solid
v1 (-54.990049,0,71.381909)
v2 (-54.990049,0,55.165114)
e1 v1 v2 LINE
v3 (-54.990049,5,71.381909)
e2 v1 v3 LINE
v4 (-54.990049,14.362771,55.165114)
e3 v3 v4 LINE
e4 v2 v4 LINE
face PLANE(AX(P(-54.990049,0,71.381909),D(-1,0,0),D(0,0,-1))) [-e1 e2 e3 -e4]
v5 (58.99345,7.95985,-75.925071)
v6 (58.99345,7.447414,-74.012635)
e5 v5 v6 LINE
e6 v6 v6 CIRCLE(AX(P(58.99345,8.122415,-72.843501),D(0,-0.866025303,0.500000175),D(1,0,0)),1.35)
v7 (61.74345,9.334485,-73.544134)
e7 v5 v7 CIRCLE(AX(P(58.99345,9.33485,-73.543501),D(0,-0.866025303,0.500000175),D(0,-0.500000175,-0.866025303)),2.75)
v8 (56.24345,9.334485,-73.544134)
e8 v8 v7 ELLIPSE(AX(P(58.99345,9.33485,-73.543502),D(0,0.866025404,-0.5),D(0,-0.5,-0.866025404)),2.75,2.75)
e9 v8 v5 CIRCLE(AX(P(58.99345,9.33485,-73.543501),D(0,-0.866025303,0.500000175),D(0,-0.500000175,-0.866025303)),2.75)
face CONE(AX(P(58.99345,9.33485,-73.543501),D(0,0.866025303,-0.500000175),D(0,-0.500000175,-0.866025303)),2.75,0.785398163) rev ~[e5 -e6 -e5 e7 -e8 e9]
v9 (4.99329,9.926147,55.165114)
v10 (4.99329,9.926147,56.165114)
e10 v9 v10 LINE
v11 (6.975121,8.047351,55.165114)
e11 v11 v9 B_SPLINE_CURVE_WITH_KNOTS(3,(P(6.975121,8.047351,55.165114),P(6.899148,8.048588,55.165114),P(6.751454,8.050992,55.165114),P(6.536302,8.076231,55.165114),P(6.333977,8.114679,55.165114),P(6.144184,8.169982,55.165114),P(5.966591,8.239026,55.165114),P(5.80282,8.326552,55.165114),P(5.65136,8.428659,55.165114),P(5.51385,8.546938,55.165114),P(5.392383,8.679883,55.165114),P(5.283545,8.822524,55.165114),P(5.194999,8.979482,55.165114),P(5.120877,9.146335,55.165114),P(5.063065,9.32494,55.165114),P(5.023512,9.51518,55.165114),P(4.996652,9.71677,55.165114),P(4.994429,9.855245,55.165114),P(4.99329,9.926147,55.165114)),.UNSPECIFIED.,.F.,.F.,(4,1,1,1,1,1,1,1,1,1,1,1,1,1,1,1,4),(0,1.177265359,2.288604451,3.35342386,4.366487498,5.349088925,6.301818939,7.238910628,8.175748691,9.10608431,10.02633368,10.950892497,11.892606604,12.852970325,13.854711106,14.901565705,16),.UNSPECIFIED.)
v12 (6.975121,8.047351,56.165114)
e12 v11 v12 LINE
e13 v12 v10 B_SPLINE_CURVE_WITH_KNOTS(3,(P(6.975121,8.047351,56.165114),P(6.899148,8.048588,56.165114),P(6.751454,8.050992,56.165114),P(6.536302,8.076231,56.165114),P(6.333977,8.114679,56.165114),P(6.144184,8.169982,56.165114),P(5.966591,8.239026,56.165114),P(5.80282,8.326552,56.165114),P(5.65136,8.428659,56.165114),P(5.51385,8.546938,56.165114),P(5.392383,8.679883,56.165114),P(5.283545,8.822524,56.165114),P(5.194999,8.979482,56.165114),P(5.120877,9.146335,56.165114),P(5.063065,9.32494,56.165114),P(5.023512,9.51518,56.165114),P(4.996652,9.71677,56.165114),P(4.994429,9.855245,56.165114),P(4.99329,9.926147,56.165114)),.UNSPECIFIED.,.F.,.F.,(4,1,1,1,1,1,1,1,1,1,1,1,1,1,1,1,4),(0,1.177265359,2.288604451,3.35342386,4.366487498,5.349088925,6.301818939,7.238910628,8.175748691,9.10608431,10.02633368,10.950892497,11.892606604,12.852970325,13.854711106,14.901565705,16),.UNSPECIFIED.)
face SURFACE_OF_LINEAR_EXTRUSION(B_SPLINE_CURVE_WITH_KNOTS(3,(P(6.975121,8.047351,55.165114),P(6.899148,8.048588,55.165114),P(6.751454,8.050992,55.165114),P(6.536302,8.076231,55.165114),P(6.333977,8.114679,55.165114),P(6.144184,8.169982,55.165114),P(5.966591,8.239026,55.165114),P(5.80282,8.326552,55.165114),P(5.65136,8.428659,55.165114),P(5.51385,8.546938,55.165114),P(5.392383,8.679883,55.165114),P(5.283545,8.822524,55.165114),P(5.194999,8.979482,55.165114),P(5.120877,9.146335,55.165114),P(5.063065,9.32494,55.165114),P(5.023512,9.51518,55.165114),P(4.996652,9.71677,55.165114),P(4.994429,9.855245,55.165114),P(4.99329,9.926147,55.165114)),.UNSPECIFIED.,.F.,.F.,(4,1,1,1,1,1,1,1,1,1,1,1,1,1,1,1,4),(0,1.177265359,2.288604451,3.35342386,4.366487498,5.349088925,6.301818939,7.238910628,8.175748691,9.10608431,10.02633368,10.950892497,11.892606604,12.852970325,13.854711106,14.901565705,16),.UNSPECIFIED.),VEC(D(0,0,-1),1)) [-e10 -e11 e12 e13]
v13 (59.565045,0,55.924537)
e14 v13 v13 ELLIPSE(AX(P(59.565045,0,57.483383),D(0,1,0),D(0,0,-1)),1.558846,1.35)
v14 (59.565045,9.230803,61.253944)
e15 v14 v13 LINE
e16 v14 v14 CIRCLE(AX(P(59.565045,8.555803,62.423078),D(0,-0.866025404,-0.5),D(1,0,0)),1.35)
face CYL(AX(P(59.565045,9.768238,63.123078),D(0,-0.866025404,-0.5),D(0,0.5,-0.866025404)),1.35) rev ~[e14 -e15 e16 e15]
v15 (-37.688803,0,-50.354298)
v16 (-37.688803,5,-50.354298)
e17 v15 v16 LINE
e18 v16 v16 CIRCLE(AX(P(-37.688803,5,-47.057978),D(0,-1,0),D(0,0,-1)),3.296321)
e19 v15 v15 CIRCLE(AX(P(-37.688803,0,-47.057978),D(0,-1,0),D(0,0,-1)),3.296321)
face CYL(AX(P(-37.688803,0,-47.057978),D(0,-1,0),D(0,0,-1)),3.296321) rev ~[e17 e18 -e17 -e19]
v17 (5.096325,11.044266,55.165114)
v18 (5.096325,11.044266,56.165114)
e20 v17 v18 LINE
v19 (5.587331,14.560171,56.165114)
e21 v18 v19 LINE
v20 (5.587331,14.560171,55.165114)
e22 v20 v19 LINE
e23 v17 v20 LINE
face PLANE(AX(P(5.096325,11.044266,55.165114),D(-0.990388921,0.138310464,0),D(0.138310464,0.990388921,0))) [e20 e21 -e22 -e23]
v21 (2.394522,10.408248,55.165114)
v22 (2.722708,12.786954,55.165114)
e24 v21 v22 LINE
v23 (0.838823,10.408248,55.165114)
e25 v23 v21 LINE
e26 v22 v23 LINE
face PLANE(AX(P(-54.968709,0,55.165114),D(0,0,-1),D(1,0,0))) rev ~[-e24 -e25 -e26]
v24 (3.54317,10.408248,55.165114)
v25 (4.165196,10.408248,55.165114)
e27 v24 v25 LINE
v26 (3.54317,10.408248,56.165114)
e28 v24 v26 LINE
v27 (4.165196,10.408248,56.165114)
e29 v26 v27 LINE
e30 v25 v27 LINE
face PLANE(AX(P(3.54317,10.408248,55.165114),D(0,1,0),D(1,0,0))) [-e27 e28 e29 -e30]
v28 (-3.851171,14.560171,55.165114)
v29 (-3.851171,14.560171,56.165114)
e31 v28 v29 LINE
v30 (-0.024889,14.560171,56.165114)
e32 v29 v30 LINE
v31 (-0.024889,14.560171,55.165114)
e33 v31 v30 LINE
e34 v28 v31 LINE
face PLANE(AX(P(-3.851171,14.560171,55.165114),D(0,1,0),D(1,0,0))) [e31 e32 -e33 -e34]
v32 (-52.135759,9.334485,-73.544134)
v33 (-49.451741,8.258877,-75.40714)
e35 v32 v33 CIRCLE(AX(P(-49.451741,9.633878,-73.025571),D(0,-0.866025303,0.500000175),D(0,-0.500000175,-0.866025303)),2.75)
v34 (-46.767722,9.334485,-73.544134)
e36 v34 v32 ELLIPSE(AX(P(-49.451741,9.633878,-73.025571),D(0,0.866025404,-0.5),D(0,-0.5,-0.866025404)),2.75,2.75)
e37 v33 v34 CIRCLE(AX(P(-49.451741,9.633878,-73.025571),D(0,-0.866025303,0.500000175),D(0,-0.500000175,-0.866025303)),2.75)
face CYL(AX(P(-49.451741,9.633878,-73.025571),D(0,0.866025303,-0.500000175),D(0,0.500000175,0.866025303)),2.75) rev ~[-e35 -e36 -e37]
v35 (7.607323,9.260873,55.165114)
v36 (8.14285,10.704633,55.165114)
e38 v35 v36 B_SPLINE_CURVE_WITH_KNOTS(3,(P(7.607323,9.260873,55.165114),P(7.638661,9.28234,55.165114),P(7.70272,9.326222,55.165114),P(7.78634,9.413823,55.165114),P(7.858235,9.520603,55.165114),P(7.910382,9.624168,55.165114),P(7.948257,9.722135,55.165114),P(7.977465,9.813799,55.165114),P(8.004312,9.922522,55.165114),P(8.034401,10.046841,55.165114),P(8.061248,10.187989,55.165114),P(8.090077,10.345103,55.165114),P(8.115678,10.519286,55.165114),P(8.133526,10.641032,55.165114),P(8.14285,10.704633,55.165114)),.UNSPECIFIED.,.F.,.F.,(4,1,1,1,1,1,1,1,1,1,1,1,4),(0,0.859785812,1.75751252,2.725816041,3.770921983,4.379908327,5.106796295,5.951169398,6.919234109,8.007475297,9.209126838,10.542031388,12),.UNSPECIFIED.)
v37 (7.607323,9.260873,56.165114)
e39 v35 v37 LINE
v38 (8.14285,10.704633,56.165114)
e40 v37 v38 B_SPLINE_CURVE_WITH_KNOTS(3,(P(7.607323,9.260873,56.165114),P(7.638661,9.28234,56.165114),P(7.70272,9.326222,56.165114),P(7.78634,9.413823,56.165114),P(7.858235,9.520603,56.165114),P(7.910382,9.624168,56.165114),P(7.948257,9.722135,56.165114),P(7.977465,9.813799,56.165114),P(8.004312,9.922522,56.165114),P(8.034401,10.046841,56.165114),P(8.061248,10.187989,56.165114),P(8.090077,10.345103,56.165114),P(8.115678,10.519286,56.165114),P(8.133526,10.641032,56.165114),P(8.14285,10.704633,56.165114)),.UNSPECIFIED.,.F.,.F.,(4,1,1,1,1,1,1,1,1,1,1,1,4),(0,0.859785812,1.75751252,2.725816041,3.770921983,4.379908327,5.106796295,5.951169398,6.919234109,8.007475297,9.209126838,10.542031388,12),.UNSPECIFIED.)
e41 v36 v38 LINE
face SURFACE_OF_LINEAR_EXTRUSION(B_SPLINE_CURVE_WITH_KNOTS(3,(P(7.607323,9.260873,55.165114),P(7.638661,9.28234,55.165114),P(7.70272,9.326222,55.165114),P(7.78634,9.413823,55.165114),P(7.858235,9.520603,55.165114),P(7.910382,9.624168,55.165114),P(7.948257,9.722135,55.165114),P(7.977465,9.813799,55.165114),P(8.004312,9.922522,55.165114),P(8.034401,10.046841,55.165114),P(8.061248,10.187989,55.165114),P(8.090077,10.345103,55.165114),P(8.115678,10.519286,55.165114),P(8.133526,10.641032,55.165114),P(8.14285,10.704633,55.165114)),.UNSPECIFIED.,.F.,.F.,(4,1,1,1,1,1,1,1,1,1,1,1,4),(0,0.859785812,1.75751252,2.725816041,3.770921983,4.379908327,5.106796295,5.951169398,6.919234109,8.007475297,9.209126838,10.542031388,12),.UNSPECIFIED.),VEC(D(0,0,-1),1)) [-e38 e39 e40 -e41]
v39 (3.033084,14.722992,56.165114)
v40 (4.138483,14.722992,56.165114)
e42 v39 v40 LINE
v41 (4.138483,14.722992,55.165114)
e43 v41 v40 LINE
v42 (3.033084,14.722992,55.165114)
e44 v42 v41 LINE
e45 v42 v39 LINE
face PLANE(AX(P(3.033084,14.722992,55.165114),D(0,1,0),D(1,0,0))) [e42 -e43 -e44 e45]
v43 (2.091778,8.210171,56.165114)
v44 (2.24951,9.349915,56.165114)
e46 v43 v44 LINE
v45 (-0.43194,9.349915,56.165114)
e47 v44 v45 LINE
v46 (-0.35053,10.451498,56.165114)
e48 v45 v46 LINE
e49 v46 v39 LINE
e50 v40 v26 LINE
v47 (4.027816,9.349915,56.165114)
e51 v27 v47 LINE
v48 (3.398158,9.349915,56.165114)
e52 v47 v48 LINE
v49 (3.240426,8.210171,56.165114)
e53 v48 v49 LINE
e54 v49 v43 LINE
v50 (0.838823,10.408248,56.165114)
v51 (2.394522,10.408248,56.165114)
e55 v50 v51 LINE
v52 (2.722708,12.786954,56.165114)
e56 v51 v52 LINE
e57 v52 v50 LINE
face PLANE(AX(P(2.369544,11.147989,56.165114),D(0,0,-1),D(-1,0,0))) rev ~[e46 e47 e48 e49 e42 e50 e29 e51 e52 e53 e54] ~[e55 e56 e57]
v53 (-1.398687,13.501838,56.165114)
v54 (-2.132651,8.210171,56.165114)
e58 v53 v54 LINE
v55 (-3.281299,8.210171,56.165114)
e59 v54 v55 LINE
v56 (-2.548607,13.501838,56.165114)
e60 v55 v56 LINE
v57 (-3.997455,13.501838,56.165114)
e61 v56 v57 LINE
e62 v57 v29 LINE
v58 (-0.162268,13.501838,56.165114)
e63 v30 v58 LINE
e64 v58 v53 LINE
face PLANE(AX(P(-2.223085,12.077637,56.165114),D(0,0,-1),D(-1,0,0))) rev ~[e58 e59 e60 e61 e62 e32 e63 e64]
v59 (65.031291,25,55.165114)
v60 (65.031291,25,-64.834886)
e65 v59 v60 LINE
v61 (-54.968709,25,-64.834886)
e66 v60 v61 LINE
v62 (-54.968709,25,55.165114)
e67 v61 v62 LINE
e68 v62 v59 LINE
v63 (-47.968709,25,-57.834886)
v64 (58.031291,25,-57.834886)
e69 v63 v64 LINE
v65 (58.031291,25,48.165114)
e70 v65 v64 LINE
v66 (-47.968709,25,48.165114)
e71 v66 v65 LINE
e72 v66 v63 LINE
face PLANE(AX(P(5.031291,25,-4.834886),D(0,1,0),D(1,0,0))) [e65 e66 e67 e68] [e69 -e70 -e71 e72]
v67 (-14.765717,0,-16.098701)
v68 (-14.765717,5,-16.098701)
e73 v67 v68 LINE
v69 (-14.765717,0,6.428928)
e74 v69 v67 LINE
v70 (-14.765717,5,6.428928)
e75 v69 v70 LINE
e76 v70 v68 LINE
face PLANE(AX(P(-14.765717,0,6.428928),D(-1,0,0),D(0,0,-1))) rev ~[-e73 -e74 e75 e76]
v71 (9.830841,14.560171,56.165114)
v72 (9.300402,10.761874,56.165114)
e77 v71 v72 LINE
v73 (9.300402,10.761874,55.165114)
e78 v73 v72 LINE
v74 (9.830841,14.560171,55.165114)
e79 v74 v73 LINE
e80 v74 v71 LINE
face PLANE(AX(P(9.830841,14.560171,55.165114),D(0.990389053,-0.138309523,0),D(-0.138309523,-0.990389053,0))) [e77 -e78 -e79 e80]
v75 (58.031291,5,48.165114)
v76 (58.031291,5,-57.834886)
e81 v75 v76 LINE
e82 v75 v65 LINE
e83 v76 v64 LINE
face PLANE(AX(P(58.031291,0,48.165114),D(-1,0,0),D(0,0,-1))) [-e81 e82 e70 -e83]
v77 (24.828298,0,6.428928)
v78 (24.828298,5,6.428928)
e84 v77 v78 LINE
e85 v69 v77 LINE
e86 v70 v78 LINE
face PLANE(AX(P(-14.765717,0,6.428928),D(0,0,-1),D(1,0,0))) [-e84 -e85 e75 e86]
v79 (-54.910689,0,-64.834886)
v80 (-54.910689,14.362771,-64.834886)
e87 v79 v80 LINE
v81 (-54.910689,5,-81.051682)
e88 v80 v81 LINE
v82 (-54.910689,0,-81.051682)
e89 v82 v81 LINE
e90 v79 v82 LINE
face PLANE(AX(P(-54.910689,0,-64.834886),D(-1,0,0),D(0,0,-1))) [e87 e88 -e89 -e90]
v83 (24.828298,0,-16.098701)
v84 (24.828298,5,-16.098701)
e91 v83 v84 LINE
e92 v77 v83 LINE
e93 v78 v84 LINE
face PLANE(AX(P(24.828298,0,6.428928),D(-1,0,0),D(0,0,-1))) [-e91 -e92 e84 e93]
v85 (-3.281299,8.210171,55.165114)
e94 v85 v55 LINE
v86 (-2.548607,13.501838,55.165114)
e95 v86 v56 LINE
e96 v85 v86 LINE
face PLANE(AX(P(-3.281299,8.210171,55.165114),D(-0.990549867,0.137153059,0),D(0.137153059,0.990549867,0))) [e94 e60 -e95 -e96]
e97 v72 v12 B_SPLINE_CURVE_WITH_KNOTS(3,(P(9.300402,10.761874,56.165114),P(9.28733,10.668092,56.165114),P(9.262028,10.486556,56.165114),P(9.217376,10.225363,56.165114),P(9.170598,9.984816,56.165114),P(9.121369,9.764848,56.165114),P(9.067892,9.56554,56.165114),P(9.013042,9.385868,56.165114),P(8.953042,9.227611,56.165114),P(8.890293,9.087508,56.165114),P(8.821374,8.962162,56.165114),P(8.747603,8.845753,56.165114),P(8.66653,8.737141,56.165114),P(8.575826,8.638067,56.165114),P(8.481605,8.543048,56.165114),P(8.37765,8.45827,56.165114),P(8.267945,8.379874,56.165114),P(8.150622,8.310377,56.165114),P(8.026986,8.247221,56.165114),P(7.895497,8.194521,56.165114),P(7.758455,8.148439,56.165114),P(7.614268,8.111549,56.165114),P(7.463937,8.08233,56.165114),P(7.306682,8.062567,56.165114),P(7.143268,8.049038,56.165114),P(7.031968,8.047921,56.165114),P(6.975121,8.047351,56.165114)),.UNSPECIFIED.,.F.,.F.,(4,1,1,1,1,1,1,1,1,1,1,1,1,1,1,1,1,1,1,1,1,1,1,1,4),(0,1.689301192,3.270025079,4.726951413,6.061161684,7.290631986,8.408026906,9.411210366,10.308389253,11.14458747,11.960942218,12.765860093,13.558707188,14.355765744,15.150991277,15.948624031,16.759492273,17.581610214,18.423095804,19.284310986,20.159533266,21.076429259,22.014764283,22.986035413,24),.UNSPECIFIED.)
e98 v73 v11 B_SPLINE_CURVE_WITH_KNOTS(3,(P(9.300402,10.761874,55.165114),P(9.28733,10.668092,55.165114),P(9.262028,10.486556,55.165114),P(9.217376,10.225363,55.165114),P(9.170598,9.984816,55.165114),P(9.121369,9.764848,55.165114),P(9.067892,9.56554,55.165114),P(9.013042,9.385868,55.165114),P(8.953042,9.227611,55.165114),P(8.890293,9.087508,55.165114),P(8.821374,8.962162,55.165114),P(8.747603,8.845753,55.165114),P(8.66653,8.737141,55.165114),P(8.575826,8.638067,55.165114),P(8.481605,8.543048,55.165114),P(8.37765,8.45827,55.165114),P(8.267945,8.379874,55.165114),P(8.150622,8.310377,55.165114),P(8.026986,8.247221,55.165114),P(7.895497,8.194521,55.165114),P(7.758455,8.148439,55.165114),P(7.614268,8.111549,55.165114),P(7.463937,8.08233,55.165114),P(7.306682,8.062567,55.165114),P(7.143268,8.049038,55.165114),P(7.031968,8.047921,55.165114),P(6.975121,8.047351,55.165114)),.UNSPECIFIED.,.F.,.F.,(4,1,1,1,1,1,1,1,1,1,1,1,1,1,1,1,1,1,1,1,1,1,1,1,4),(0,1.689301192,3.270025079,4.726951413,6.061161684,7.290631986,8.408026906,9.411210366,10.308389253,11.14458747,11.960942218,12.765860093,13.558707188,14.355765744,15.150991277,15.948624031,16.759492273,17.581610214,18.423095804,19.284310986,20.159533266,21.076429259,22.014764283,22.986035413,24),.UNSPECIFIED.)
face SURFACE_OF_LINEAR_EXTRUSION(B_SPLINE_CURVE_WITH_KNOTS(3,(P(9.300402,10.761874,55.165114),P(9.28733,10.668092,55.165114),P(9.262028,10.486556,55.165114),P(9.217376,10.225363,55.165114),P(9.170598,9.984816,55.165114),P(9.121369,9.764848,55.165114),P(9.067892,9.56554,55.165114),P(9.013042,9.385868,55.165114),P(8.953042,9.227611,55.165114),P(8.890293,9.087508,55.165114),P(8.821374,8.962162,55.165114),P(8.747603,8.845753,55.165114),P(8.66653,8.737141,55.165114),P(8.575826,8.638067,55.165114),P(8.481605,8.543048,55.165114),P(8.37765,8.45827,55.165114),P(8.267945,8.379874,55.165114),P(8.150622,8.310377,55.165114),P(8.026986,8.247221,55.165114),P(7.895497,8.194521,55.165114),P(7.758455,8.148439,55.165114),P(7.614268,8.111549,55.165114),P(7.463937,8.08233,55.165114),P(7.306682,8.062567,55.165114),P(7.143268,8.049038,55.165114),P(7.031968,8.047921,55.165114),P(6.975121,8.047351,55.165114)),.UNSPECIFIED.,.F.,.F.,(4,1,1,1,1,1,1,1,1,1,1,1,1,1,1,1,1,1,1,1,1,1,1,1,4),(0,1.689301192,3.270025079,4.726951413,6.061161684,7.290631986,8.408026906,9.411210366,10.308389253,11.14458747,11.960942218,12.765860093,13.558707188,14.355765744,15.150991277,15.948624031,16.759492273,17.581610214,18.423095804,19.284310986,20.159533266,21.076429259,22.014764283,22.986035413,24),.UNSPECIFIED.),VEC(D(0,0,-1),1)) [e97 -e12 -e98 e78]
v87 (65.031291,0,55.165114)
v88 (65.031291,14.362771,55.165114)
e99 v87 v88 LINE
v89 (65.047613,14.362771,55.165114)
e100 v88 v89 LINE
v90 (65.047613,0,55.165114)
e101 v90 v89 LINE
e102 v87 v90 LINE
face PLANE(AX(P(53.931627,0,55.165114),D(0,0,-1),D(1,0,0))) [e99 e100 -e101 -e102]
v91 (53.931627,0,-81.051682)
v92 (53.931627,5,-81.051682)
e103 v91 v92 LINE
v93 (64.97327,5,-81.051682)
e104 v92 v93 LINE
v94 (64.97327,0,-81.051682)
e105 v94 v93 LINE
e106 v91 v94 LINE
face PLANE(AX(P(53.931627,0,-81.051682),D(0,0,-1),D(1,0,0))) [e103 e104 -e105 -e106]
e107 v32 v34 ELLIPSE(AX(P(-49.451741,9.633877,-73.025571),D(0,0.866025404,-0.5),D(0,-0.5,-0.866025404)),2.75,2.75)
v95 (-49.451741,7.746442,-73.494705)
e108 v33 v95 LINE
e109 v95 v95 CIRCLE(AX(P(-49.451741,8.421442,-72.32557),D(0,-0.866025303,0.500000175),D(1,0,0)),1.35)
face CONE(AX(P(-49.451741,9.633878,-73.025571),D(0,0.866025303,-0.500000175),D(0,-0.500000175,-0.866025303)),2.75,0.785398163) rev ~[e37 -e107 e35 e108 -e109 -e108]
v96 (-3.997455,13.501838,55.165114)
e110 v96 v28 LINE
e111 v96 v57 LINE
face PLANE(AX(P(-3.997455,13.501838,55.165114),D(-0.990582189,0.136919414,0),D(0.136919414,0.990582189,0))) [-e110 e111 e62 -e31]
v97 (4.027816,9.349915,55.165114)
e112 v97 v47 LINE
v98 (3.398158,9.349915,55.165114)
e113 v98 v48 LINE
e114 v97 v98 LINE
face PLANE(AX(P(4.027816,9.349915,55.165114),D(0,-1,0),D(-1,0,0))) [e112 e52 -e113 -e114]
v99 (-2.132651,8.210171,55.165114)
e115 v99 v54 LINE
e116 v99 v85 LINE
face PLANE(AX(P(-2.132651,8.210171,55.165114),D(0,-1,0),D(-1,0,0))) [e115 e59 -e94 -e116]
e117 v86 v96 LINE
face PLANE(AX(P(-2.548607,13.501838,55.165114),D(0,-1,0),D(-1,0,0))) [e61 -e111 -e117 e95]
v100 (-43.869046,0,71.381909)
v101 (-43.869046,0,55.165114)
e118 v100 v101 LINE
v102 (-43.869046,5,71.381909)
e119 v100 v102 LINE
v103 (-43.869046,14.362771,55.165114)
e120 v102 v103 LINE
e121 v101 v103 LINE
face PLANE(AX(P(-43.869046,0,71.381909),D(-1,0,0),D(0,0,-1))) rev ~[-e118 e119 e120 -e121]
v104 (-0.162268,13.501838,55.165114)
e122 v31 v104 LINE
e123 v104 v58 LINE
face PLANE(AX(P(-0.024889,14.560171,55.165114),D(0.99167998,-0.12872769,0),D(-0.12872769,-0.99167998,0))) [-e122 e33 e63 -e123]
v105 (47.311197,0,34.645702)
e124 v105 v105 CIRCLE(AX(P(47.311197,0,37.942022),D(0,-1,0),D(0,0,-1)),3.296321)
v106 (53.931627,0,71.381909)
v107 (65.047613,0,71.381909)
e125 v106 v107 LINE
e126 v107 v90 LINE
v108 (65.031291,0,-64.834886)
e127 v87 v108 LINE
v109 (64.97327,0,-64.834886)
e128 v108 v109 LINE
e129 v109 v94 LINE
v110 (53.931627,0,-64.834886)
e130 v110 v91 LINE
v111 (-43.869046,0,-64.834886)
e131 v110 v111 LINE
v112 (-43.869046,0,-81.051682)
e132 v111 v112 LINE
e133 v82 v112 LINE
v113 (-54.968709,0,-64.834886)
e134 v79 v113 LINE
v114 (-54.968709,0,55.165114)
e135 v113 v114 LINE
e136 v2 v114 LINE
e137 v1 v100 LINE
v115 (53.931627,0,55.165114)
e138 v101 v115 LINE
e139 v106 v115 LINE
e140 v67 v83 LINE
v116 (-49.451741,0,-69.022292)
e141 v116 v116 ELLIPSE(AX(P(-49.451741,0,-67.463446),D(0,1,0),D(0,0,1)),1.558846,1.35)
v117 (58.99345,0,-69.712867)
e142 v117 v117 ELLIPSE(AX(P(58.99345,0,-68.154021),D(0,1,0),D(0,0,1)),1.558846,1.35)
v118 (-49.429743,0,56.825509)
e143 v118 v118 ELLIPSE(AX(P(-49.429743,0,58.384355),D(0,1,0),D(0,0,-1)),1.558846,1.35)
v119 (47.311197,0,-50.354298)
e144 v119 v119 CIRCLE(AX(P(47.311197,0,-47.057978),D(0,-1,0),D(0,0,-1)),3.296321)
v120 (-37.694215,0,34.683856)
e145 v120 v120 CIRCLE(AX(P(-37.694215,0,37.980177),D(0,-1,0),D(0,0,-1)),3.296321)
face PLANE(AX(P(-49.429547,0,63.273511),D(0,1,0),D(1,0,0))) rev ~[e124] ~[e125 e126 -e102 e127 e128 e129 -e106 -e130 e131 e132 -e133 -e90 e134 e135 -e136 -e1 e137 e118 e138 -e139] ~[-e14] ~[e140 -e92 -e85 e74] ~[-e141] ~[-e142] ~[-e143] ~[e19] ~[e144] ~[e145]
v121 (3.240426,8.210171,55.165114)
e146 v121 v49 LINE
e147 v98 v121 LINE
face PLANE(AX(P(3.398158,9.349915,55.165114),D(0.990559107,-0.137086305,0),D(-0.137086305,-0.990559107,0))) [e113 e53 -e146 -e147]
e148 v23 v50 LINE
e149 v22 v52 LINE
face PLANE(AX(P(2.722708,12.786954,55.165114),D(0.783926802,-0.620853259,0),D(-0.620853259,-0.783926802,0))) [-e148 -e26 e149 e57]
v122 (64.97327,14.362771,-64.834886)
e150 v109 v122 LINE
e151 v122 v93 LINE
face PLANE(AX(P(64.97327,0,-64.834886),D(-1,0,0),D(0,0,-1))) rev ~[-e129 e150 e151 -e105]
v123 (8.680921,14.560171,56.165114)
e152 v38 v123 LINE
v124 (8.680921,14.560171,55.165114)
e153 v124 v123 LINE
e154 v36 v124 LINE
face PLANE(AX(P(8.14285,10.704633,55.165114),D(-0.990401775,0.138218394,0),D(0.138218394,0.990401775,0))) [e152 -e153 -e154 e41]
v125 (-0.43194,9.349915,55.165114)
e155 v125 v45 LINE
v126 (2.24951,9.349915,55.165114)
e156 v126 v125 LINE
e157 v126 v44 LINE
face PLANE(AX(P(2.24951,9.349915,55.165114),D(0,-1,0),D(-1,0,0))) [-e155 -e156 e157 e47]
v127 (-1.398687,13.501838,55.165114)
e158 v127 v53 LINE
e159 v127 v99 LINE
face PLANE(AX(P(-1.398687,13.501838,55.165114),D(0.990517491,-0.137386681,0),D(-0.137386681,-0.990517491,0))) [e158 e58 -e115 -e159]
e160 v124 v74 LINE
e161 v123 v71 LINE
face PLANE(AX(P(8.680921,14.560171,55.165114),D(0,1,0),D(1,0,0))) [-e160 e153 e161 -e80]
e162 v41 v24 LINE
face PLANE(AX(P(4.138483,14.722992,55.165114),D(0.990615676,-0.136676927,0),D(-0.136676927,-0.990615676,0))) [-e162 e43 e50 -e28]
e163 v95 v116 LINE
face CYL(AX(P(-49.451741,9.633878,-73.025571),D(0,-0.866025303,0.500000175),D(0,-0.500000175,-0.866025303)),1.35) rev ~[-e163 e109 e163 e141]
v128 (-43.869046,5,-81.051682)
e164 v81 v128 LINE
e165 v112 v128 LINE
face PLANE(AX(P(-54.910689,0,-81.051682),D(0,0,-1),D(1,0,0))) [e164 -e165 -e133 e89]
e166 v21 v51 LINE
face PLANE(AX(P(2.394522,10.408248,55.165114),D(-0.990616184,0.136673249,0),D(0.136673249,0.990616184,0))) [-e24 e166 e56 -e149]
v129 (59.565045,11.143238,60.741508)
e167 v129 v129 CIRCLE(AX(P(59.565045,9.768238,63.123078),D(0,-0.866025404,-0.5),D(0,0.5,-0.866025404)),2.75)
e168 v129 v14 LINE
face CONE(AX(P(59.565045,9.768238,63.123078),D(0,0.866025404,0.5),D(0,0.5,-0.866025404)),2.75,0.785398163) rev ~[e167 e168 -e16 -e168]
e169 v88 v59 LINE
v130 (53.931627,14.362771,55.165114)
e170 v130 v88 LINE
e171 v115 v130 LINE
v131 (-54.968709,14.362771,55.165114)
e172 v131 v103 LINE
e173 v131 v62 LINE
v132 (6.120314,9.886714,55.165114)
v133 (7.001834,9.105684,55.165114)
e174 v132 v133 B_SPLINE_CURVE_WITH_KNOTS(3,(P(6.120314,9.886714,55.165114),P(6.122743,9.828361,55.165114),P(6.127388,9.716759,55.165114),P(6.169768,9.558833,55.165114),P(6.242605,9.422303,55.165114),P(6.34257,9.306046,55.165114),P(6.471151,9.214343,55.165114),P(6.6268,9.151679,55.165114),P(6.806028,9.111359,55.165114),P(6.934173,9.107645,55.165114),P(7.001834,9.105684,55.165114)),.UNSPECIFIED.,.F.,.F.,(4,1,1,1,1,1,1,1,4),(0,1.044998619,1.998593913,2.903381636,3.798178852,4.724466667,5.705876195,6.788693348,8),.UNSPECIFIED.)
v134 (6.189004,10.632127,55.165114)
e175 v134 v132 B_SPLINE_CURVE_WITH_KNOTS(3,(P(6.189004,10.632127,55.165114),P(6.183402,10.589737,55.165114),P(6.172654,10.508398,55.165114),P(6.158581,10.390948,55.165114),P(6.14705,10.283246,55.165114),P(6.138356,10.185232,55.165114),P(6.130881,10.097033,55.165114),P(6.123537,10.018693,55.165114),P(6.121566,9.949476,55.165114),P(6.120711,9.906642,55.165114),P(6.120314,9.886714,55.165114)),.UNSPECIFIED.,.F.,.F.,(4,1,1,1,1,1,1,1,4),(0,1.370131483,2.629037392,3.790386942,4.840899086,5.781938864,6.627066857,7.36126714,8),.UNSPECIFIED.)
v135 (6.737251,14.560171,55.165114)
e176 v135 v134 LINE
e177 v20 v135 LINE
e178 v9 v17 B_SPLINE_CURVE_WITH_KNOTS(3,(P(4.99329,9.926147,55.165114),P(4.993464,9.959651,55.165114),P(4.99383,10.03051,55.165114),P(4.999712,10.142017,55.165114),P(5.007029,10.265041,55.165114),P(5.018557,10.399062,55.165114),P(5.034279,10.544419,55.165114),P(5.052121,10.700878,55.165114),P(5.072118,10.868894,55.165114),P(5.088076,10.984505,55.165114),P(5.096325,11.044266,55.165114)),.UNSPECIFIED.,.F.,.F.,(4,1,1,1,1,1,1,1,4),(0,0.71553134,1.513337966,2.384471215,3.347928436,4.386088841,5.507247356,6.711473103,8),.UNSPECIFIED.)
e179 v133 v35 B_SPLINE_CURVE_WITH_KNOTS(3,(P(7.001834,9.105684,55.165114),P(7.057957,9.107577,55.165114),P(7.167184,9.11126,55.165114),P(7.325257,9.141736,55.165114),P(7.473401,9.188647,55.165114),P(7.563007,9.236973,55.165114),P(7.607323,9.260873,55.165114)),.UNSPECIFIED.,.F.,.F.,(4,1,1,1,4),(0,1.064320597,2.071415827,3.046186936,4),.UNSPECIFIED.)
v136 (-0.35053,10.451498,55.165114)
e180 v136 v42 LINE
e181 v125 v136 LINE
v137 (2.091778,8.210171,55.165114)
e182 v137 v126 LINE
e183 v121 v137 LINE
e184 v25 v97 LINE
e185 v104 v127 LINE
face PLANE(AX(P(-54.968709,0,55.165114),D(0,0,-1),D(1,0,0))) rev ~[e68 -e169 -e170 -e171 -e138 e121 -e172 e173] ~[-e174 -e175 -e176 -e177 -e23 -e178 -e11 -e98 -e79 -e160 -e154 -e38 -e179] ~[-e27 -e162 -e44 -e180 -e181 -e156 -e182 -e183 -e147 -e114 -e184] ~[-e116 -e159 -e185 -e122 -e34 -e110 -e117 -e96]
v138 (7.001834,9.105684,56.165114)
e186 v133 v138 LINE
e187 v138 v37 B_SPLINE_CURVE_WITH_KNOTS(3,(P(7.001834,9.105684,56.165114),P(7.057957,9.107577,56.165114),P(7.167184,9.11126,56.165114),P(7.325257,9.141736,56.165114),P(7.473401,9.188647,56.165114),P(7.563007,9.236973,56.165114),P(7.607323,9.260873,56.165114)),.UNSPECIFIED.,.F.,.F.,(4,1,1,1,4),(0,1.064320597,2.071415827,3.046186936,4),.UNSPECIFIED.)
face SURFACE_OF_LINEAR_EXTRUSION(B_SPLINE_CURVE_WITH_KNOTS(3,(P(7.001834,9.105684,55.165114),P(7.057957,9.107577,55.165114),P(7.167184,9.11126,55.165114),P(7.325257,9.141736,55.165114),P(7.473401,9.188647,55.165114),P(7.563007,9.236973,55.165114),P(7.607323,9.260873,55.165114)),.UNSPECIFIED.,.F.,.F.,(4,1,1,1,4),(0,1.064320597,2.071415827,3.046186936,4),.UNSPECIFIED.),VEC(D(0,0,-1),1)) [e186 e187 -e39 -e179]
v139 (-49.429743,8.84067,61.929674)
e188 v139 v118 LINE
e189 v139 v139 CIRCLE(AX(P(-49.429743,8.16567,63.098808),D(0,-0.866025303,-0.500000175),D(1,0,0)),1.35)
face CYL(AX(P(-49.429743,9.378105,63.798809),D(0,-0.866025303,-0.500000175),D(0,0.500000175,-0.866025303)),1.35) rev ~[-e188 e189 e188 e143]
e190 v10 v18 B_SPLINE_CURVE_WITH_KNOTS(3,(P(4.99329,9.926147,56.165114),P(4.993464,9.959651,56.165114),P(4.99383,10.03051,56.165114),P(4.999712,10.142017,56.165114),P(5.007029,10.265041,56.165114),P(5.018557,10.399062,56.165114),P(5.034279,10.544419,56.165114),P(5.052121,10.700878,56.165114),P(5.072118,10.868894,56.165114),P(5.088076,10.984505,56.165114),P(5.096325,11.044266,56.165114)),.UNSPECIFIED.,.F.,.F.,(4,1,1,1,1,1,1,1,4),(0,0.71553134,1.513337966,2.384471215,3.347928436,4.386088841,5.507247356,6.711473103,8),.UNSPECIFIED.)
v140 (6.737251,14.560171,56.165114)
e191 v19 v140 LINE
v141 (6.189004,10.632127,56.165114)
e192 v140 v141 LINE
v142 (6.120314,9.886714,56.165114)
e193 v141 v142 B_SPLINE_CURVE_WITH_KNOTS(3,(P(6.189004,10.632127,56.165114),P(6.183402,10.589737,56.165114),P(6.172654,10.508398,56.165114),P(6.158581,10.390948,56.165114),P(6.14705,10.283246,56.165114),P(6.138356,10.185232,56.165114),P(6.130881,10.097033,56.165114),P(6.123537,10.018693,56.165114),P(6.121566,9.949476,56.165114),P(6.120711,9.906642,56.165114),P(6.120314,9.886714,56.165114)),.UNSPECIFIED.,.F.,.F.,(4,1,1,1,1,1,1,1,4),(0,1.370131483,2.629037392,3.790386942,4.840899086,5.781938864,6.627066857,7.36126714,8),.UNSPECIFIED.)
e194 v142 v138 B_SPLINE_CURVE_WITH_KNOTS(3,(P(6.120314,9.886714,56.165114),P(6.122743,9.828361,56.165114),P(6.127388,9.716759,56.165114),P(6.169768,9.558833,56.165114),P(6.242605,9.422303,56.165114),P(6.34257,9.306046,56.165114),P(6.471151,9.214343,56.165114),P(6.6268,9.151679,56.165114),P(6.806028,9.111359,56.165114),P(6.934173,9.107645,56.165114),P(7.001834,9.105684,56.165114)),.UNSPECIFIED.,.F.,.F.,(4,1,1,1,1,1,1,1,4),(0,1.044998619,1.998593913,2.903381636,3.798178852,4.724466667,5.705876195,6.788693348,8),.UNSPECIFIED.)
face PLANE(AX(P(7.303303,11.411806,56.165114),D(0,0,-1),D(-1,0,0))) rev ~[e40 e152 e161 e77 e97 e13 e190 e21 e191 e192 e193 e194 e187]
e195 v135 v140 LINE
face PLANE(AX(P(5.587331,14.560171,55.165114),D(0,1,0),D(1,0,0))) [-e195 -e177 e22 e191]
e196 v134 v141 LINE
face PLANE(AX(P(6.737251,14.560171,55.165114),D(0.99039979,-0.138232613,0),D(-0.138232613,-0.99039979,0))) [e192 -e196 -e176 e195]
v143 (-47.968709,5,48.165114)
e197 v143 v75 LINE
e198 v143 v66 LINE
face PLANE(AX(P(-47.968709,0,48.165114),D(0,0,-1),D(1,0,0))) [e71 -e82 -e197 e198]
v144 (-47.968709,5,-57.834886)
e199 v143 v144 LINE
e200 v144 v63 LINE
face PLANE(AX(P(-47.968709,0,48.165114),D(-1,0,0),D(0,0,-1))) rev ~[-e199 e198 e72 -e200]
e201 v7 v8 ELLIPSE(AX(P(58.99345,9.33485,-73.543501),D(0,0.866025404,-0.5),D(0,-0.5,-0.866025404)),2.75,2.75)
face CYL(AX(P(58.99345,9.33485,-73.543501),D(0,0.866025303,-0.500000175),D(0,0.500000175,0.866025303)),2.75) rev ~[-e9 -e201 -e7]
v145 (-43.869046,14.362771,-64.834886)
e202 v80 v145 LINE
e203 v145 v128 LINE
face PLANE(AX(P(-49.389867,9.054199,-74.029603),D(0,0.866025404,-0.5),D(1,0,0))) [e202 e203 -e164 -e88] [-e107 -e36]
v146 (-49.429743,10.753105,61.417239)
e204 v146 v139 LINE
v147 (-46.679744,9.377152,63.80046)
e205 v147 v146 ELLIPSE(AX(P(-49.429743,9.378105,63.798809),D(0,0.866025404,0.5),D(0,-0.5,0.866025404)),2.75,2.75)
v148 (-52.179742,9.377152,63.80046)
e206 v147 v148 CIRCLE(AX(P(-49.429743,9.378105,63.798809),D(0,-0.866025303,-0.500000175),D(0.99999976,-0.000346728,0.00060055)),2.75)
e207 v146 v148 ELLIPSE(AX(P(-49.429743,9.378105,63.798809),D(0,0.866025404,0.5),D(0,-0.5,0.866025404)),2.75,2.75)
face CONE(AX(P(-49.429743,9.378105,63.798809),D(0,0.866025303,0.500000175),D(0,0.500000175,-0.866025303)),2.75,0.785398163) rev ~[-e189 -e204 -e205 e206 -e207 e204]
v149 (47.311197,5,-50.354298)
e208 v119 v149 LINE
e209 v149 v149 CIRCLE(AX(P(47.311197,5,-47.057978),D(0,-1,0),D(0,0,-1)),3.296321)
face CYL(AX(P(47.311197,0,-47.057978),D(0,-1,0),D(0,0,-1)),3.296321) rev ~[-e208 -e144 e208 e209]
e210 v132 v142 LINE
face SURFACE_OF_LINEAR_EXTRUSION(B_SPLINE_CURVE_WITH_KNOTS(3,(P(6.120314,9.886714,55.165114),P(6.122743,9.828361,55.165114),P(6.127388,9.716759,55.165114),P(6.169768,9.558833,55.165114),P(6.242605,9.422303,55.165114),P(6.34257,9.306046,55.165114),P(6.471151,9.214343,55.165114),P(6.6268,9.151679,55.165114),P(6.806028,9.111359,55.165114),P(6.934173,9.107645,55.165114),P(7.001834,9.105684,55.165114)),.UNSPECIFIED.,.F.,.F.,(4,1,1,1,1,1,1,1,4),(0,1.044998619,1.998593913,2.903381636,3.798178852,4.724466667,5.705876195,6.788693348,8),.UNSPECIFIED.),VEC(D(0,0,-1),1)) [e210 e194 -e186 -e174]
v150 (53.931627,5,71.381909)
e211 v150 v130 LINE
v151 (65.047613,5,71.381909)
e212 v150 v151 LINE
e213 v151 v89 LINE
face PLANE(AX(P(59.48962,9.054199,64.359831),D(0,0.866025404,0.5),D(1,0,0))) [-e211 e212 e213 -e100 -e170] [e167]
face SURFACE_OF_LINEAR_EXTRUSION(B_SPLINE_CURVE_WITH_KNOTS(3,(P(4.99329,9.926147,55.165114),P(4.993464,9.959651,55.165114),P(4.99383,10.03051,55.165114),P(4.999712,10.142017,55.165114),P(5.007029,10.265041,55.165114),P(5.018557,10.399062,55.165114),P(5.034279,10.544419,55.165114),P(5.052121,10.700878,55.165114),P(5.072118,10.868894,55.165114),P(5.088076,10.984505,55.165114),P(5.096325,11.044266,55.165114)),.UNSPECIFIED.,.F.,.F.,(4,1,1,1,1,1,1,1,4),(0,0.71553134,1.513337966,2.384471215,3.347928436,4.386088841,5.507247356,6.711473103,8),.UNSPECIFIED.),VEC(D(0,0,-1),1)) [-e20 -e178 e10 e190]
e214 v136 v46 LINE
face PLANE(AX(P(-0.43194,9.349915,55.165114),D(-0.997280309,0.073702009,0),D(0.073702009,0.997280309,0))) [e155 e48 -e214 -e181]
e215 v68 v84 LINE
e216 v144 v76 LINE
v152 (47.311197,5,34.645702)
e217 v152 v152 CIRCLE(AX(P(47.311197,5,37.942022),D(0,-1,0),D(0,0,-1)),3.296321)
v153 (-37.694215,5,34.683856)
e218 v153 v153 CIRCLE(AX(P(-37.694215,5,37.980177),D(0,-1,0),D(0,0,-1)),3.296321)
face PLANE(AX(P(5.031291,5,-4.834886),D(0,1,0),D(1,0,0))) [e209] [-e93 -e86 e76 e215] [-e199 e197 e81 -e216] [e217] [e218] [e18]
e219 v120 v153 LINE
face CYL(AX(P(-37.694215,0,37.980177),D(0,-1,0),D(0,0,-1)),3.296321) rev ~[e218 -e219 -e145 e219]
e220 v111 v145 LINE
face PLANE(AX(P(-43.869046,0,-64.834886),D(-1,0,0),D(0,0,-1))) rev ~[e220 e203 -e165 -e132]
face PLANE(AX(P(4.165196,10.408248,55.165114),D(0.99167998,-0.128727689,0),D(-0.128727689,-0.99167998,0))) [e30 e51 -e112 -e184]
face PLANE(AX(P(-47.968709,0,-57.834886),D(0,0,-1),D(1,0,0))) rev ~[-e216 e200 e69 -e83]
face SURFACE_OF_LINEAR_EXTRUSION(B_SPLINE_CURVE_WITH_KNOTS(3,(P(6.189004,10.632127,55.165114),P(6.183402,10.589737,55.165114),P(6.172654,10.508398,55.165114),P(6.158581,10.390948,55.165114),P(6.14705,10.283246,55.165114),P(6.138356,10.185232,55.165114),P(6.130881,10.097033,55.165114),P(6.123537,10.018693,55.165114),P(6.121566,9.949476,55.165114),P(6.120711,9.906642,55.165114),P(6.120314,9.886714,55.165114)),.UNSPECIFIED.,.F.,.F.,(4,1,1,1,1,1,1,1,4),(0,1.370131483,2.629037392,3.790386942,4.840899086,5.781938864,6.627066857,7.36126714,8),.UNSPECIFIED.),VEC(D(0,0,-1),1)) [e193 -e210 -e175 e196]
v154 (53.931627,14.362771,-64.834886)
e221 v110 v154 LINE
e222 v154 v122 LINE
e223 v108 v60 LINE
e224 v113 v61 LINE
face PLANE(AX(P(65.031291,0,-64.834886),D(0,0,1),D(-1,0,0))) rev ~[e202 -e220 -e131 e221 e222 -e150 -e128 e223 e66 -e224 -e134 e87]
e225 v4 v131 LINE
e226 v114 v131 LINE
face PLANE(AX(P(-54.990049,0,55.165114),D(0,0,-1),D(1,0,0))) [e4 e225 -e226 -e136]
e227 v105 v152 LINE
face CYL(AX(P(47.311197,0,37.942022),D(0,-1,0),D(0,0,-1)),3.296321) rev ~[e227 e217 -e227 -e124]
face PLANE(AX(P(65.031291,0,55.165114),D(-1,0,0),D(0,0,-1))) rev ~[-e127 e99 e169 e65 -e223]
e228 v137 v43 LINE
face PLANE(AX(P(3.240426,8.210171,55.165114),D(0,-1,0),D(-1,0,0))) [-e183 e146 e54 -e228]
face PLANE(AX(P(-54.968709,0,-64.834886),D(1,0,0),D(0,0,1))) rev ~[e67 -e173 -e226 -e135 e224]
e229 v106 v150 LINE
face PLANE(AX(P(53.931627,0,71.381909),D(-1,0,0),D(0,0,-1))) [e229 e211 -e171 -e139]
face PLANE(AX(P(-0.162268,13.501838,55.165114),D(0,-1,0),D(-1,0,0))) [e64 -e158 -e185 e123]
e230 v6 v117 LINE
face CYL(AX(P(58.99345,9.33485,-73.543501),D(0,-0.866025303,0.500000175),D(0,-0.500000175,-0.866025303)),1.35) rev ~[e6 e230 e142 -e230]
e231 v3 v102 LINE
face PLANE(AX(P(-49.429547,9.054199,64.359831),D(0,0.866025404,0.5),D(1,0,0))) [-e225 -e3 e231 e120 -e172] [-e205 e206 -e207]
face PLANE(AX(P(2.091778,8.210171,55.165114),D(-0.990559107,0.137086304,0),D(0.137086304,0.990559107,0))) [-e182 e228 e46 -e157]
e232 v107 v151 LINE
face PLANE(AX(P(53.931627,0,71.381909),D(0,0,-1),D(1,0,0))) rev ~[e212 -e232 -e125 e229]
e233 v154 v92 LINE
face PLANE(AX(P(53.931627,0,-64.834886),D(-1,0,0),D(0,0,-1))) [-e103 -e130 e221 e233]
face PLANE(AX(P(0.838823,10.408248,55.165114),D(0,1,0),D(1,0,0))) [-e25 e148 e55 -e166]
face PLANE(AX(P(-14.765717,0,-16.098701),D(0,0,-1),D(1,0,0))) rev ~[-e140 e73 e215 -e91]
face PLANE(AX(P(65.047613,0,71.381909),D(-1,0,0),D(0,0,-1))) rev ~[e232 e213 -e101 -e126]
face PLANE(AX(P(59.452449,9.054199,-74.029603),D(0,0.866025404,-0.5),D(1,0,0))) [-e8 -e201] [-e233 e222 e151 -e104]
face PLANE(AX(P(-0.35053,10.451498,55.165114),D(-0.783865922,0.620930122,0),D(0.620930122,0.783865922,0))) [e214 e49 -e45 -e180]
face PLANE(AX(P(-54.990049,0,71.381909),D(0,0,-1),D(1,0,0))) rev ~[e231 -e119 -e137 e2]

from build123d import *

# Parameters (mm, degrees)
SKETCH1_W                                            = 106
SKETCH1_H                                            = 106
SKETCH1_W_2                                          = 39.59401571
SKETCH1_H_2                                          = 22.527629628
BOSS_EXTRUDE1_DEPTH                                  = 5
SKETCH1_4_W                                          = 106
SKETCH1_4_H                                          = 106
BOSS_EXTRUDE2_DEPTH                                  = 25
SKETCH1_6_W                                          = 11.041643383
SKETCH1_6_H                                          = 16.216795515
BOSS_EXTRUDE4_DEPTH                                  = 5
SKETCH1_8_W                                          = 11.041643383
SKETCH1_8_H                                          = 16.216795515
BOSS_EXTRUDE5_DEPTH                                  = 5
SKETCH1_10_W                                         = 11.121003358
SKETCH1_10_H                                         = 16.216795515
SKETCH1_10_W_2                                       = 11.11598595
BOSS_EXTRUDE7_DEPTH                                  = 5
DRAFT1_ANGLE                                         = 1
DRAFT2_ANGLE                                         = 45
DRAFT3_ANGLE                                         = 30
DRAFT4_ANGLE                                         = 30
DRAFT6_ANGLE                                         = 30
DRAFT7_ANGLE                                         = 30
CSK_FOR_M2_5_OVAL_HEAD_MACHINE_SCREW1_D              = 2.7
CSK_FOR_M2_5_OVAL_HEAD_MACHINE_SCREW1_CSINK_D        = 5.5
CSK_FOR_M2_5_OVAL_HEAD_MACHINE_SCREW1_CSINK_ANGLE    = 90
CSK_FOR_M2_5_OVAL_HEAD_MACHINE_SCREW1_ON_D           = 2.7
CSK_FOR_M2_5_OVAL_HEAD_MACHINE_SCREW1_ON_CSINK_D     = 5.5
CSK_FOR_M2_5_OVAL_HEAD_MACHINE_SCREW1_ON_CSINK_ANGLE = 90
CSK_FOR_M2_5_OVAL_HEAD_MACHINE_SCREW_2_D             = 2.7
CSK_FOR_M2_5_OVAL_HEAD_MACHINE_SCREW_2_CSINK_D       = 5.5
CSK_FOR_M2_5_OVAL_HEAD_MACHINE_SCREW_2_CSINK_ANGLE   = 90
BOSS_EXTRUDE9_DEPTH                                  = 1
SKETCH14_R                                           = 3.296320564
CUT_EXTRUDE1_DEPTH                                   = 10


with BuildPart() as part:
    # Sketch1 → Boss-Extrude1 (new body)
    with BuildSketch(Plane(origin=(0, 0, 0), x_dir=(1, 0, 0), z_dir=(0, 1, 0))):
        with Locations((5.031290625, 4.83488638)):
            Rectangle(SKETCH1_W, SKETCH1_H)
        with Locations((5.031290625, 4.83488638)):
            Rectangle(SKETCH1_W_2, SKETCH1_H_2, mode=Mode.SUBTRACT)
    extrude(amount=BOSS_EXTRUDE1_DEPTH)

    # Sketch1<4> → Boss-Extrude2 (add)
    with BuildSketch(Plane(origin=(0, 0, 0), x_dir=(1, 0, 0), z_dir=(0, 1, 0))):
        Polygon((-54.910689044, 64.83488638), (-54.968709375, 64.83488638), (-54.968709375, -55.16511362), (-43.869045661, -55.16511362), (53.931626911, -55.16511362), (65.031290625, -55.16511362), (65.031290625, 64.83488638), (64.973270294, 64.83488638), (53.931626911, 64.83488638), (-43.869045661, 64.83488638), align=None)
        with Locations((5.031290625, 4.83488638)):
            Rectangle(SKETCH1_4_W, SKETCH1_4_H, mode=Mode.SUBTRACT)
    extrude(amount=BOSS_EXTRUDE2_DEPTH)

    # Sketch1<6> → Boss-Extrude4 (add)
    with BuildSketch(Plane(origin=(0, 0, 0), x_dir=(1, 0, 0), z_dir=(0, 1, 0))):
        with Locations((-49.389867353, 72.943284138)):
            Rectangle(SKETCH1_6_W, SKETCH1_6_H)
    extrude(amount=BOSS_EXTRUDE4_DEPTH)

    # Sketch1<8> → Boss-Extrude5 (add)
    with BuildSketch(Plane(origin=(0, 0, 0), x_dir=(1, 0, 0), z_dir=(0, 1, 0))):
        with Locations((59.452448602, 72.943284138)):
            Rectangle(SKETCH1_8_W, SKETCH1_8_H)
    extrude(amount=BOSS_EXTRUDE5_DEPTH)

    # Sketch1<10> → Boss-Extrude7 (add)
    with BuildSketch(Plane(origin=(0, 0, 0), x_dir=(1, 0, 0), z_dir=(0, 1, 0))):
        with Locations((-49.42954734, -63.273511378)):
            Rectangle(SKETCH1_10_W, SKETCH1_10_H)
        with Locations((59.489619886, -63.273511378)):
            Rectangle(SKETCH1_10_W_2, SKETCH1_10_H)
    extrude(amount=BOSS_EXTRUDE7_DEPTH)

    # Draft1
    draft1_faces = [part.faces().sort_by_distance(p)[0] for p in [
        (59.489619886, 5, 63.273511377),
    ]]
    draft(draft1_faces, Plane(origin=(0, 5, 71.381909135), x_dir=(1, 0, 0), z_dir=(0, 0, 1)), DRAFT1_ANGLE)

    # Draft2
    draft2_faces = [part.faces().sort_by_distance(p)[0] for p in [
        (59.489619886, 5.141532609, 63.273511377),
    ]]
    draft(draft2_faces, Plane(origin=(0, 5, 71.381909135), x_dir=(1, 0, 0), z_dir=(0, 0, 1)), DRAFT2_ANGLE)

    # Draft3
    draft3_faces = [part.faces().sort_by_distance(p)[0] for p in [
        (59.489619886, 13.108397758, 63.273511377),
    ]]
    draft(draft3_faces, Plane(origin=(0, 5, 71.381909135), x_dir=(1, 0, 0), z_dir=(0, 0, 1)), DRAFT3_ANGLE)

    # Draft4
    draft4_faces = [part.faces().sort_by_distance(p)[0] for p in [
        (-49.42954734, 5, 63.273511377),
    ]]
    draft(draft4_faces, Plane(origin=(0, 5, 71.381909135), x_dir=(1, 0, 0), z_dir=(0, 0, 1)), DRAFT4_ANGLE)

    # Draft6
    draft6_faces = [part.faces().sort_by_distance(p)[0] for p in [
        (-49.389867352, 5, -72.943284138),
    ]]
    draft(draft6_faces, Plane(origin=(0, 5, -81.051681895), x_dir=(-1, 0, 0), z_dir=(0, 0, -1)), DRAFT6_ANGLE)

    # Draft7
    draft7_faces = [part.faces().sort_by_distance(p)[0] for p in [
        (59.452448603, 5, -72.943284138),
    ]]
    draft(draft7_faces, Plane(origin=(0, 5, -81.051681895), x_dir=(-1, 0, 0), z_dir=(0, 0, -1)), DRAFT7_ANGLE)

    # CSK for M2.5 Oval Head Machine Screw1 (through all)
    with Locations(Plane(origin=(59.56504546, 9.768238454, 63.123077871), x_dir=(0, -0.5, 0.866025403784), z_dir=(0, 0.866025403784, 0.5))):
        with Locations((0, 0)):
            CounterSinkHole(CSK_FOR_M2_5_OVAL_HEAD_MACHINE_SCREW1_D / 2, CSK_FOR_M2_5_OVAL_HEAD_MACHINE_SCREW1_CSINK_D / 2, counter_sink_angle=CSK_FOR_M2_5_OVAL_HEAD_MACHINE_SCREW1_CSINK_ANGLE)

    # CSK for M2.5 Oval Head Machine Screw1 on (through all)
    with Locations(Plane(origin=(-49.429743133, 9.378105131, 63.798808608), x_dir=(0, -0.500000174844, 0.866025302838), z_dir=(0, 0.866025302838, 0.500000174844))):
        with Locations((0, 0)):
            CounterSinkHole(CSK_FOR_M2_5_OVAL_HEAD_MACHINE_SCREW1_ON_D / 2, CSK_FOR_M2_5_OVAL_HEAD_MACHINE_SCREW1_ON_CSINK_D / 2, counter_sink_angle=CSK_FOR_M2_5_OVAL_HEAD_MACHINE_SCREW1_ON_CSINK_ANGLE)

    # CSK for M2.5 Oval Head Machine Screw 2 (through all)
    with Locations(Plane(origin=(58.993450062, 9.334850022, -73.543501414), x_dir=(0, 0.500000174844, 0.866025302838), z_dir=(0, 0.866025302838, -0.500000174844))):
        with Locations((-1e-09, 0), (0.598054978, -108.445190593)):
            CounterSinkHole(CSK_FOR_M2_5_OVAL_HEAD_MACHINE_SCREW_2_D / 2, CSK_FOR_M2_5_OVAL_HEAD_MACHINE_SCREW_2_CSINK_D / 2, counter_sink_angle=CSK_FOR_M2_5_OVAL_HEAD_MACHINE_SCREW_2_CSINK_ANGLE)

    # Sketch12 → Boss-Extrude9 (add)
    # profile 1 of 3: a face of its own
    with BuildSketch(Plane.XY.offset(55.16511362)):
        Polygon((-3.851170658, 14.560171439), (-0.024888607, 14.560171439), (-0.162268415, 13.501838106), (-1.398686684, 13.501838106), (-2.132651027, 8.210171439), (-3.281298864, 8.210171439), (-2.548606556, 13.501838106), (-3.997454713, 13.501838106), align=None)
    # profile 2 of 3: a face of its own
    with BuildSketch(Plane.XY.offset(55.16511362)):
        Polygon((3.033084149, 14.722991952), (4.138482787, 14.722991952), (3.543170287, 10.408248363), (4.165195527, 10.408248363), (4.02781572, 9.349915029), (3.398158268, 9.349915029), (3.240425896, 8.210171439), (2.09177806, 8.210171439), (2.249510431, 9.349915029), (-0.431939889, 9.349915029), (-0.350529633, 10.451497561), align=None)
        Polygon((2.722707547, 12.786954292), (0.838823332, 10.408248363), (2.394522451, 10.408248363), align=None, mode=Mode.SUBTRACT)
    # profile 3 of 3: a face of its own
    with BuildSketch(Plane.XY.offset(55.16511362)):
        with BuildLine():
            Line((5.587330944, 14.560171439), (6.737250816, 14.560171439))
            Line((6.737250816, 14.560171439), (6.18900362, 10.632126568))
            add(Edge.make_bspline(
                [(6.18900362, 10.632126568), (6.183402023, 10.589736798), (6.172653558, 10.508398408), (6.158581474, 10.390948009), (6.147050147, 10.283246207), (6.13835648, 10.185232364), (6.130880723, 10.097032869), (6.123537243, 10.018693331), (6.12156611, 9.949475892), (6.120711369, 9.906641739), (6.120313717, 9.886713907)],
                knots=[0, 0, 0, 0, 1.370131483, 2.629037392, 3.790386942, 4.840899086, 5.781938864, 6.627066857, 7.36126714, 8, 8, 8, 8], degree=3))
            add(Edge.make_bspline(
                [(6.120313717, 9.886713907), (6.122742642, 9.828360814), (6.127388042, 9.71675862), (6.16976809, 9.558832982), (6.242605071, 9.422303405), (6.342570448, 9.306046085), (6.471150802, 9.214343156), (6.626800051, 9.151679105), (6.806028148, 9.111359223), (6.934173097, 9.107645252), (7.001834149, 9.10568426)],
                knots=[0, 0, 0, 0, 1.044998619, 1.998593913, 2.903381636, 3.798178852, 4.724466667, 5.705876195, 6.788693348, 8, 8, 8, 8], degree=3))
            add(Edge.make_bspline(
                [(7.001834149, 9.10568426), (7.057956567, 9.10757675), (7.167183867, 9.111259975), (7.325257031, 9.141736219), (7.473400904, 9.188647388), (7.56300684, 9.236972554), (7.607322931, 9.260872561)],
                knots=[0, 0, 0, 0, 1.064320597, 2.071415827, 3.046186936, 4, 4, 4, 4], degree=3))
            add(Edge.make_bspline(
                [(7.607322931, 9.260872561), (7.638661016, 9.282340052), (7.702720081, 9.326222359), (7.786339544, 9.413823207), (7.858235271, 9.520602949), (7.910381874, 9.624167973), (7.948256851, 9.722135286), (7.977464559, 9.813799465), (8.004312179, 9.922521662), (8.034401264, 10.046840649), (8.061248289, 10.18798869), (8.090077245, 10.345103027), (8.115677693, 10.519286472), (8.133525812, 10.641031997), (8.142849774, 10.704632577)],
                knots=[0, 0, 0, 0, 0.859785812, 1.75751252, 2.725816041, 3.770921983, 4.379908327, 5.106796295, 5.951169398, 6.919234109, 8.007475297, 9.209126838, 10.542031388, 12, 12, 12, 12], degree=3))
            Line((8.142849774, 10.704632577), (8.680920688, 14.560171439))
            Line((8.680920688, 14.560171439), (9.83084056, 14.560171439))
            Line((9.83084056, 14.560171439), (9.300401858, 10.761874164))
            add(Edge.make_bspline(
                [(9.300401858, 10.761874164), (9.287330457, 10.668092192), (9.262027799, 10.486555944), (9.217376218, 10.225362872), (9.170597614, 9.984815521), (9.121368674, 9.764847607), (9.067892151, 9.565539541), (9.013042193, 9.38586844), (8.953041543, 9.227611129), (8.890292597, 9.087508153), (8.821373712, 8.962161975), (8.747602604, 8.845752783), (8.666530187, 8.737141123), (8.575826106, 8.63806749), (8.481605009, 8.543048189), (8.377649998, 8.458270008), (8.267945247, 8.379873555), (8.150621707, 8.310376789), (8.026985628, 8.247221014), (7.895497152, 8.194520818), (7.758455425, 8.148438624), (7.614268415, 8.111548668), (7.463936721, 8.082329695), (7.306681889, 8.062566996), (7.143267757, 8.04903768), (7.031968043, 8.047921181), (6.975121409, 8.047350927)],
                knots=[0, 0, 0, 0, 1.689301192, 3.270025079, 4.726951413, 6.061161684, 7.290631986, 8.408026906, 9.411210366, 10.308389253, 11.14458747, 11.960942218, 12.765860093, 13.558707188, 14.355765744, 15.150991277, 15.948624031, 16.759492273, 17.581610214, 18.423095804, 19.284310986, 20.159533266, 21.076429259, 22.014764283, 22.986035413, 24, 24, 24, 24], degree=3))
            add(Edge.make_bspline(
                [(6.975121409, 8.047350927), (6.899147588, 8.048587808), (6.751454442, 8.050992305), (6.536301922, 8.076231064), (6.333976611, 8.114679105), (6.144184028, 8.169981914), (5.966590773, 8.239025973), (5.802820172, 8.326551549), (5.651359669, 8.428658918), (5.513849709, 8.546937553), (5.392382824, 8.679882671), (5.283545327, 8.822523738), (5.194999105, 8.979481857), (5.120877418, 9.146334823), (5.063065349, 9.324939947), (5.023512275, 9.515179828), (4.996651616, 9.716770462), (4.994428674, 9.855245029), (4.993290479, 9.926147)],
                knots=[0, 0, 0, 0, 1.177265359, 2.288604451, 3.35342386, 4.366487498, 5.349088925, 6.301818939, 7.238910628, 8.175748691, 9.10608431, 10.02633368, 10.950892497, 11.892606604, 12.852970325, 13.854711106, 14.901565705, 16, 16, 16, 16], degree=3))
            add(Edge.make_bspline(
                [(4.993290479, 9.926147), (4.993463542, 9.959650681), (4.993829568, 10.030510458), (4.999712409, 10.142016979), (5.007029362, 10.26504099), (5.018557194, 10.399061752), (5.03427852, 10.544419142), (5.052121268, 10.700877502), (5.072117704, 10.868893718), (5.088076227, 10.984505296), (5.096325335, 11.044265991)],
                knots=[0, 0, 0, 0, 0.71553134, 1.513337966, 2.384471215, 3.347928436, 4.386088841, 5.507247356, 6.711473103, 8, 8, 8, 8], degree=3))
            Line((5.096325335, 11.044265991), (5.587330944, 14.560171439))
        make_face()
    extrude(amount=BOSS_EXTRUDE9_DEPTH)

    # Sketch14 → Cut-Extrude1 (cut)
    with BuildSketch(Plane(origin=(0, 0, 0), x_dir=(-1, 0, 0), z_dir=(0, -1, 0))):
        with Locations(Location((37.694214755, -37.98017666, 0), (0, 0, 90))):
            Circle(SKETCH14_R)
        with Locations(Location((-47.311196673, -37.942022361, 0), (0, 0, 90))):
            Circle(SKETCH14_R)
        with Locations(Location((-47.311196673, 47.057977639, 0), (0, 0, 90))):
            Circle(SKETCH14_R)
        with Locations(Location((37.688803327, 47.057977639, 0), (0, 0, 90))):
            Circle(SKETCH14_R)
    extrude(amount=-CUT_EXTRUDE1_DEPTH, mode=Mode.SUBTRACT)


solid = part.part
